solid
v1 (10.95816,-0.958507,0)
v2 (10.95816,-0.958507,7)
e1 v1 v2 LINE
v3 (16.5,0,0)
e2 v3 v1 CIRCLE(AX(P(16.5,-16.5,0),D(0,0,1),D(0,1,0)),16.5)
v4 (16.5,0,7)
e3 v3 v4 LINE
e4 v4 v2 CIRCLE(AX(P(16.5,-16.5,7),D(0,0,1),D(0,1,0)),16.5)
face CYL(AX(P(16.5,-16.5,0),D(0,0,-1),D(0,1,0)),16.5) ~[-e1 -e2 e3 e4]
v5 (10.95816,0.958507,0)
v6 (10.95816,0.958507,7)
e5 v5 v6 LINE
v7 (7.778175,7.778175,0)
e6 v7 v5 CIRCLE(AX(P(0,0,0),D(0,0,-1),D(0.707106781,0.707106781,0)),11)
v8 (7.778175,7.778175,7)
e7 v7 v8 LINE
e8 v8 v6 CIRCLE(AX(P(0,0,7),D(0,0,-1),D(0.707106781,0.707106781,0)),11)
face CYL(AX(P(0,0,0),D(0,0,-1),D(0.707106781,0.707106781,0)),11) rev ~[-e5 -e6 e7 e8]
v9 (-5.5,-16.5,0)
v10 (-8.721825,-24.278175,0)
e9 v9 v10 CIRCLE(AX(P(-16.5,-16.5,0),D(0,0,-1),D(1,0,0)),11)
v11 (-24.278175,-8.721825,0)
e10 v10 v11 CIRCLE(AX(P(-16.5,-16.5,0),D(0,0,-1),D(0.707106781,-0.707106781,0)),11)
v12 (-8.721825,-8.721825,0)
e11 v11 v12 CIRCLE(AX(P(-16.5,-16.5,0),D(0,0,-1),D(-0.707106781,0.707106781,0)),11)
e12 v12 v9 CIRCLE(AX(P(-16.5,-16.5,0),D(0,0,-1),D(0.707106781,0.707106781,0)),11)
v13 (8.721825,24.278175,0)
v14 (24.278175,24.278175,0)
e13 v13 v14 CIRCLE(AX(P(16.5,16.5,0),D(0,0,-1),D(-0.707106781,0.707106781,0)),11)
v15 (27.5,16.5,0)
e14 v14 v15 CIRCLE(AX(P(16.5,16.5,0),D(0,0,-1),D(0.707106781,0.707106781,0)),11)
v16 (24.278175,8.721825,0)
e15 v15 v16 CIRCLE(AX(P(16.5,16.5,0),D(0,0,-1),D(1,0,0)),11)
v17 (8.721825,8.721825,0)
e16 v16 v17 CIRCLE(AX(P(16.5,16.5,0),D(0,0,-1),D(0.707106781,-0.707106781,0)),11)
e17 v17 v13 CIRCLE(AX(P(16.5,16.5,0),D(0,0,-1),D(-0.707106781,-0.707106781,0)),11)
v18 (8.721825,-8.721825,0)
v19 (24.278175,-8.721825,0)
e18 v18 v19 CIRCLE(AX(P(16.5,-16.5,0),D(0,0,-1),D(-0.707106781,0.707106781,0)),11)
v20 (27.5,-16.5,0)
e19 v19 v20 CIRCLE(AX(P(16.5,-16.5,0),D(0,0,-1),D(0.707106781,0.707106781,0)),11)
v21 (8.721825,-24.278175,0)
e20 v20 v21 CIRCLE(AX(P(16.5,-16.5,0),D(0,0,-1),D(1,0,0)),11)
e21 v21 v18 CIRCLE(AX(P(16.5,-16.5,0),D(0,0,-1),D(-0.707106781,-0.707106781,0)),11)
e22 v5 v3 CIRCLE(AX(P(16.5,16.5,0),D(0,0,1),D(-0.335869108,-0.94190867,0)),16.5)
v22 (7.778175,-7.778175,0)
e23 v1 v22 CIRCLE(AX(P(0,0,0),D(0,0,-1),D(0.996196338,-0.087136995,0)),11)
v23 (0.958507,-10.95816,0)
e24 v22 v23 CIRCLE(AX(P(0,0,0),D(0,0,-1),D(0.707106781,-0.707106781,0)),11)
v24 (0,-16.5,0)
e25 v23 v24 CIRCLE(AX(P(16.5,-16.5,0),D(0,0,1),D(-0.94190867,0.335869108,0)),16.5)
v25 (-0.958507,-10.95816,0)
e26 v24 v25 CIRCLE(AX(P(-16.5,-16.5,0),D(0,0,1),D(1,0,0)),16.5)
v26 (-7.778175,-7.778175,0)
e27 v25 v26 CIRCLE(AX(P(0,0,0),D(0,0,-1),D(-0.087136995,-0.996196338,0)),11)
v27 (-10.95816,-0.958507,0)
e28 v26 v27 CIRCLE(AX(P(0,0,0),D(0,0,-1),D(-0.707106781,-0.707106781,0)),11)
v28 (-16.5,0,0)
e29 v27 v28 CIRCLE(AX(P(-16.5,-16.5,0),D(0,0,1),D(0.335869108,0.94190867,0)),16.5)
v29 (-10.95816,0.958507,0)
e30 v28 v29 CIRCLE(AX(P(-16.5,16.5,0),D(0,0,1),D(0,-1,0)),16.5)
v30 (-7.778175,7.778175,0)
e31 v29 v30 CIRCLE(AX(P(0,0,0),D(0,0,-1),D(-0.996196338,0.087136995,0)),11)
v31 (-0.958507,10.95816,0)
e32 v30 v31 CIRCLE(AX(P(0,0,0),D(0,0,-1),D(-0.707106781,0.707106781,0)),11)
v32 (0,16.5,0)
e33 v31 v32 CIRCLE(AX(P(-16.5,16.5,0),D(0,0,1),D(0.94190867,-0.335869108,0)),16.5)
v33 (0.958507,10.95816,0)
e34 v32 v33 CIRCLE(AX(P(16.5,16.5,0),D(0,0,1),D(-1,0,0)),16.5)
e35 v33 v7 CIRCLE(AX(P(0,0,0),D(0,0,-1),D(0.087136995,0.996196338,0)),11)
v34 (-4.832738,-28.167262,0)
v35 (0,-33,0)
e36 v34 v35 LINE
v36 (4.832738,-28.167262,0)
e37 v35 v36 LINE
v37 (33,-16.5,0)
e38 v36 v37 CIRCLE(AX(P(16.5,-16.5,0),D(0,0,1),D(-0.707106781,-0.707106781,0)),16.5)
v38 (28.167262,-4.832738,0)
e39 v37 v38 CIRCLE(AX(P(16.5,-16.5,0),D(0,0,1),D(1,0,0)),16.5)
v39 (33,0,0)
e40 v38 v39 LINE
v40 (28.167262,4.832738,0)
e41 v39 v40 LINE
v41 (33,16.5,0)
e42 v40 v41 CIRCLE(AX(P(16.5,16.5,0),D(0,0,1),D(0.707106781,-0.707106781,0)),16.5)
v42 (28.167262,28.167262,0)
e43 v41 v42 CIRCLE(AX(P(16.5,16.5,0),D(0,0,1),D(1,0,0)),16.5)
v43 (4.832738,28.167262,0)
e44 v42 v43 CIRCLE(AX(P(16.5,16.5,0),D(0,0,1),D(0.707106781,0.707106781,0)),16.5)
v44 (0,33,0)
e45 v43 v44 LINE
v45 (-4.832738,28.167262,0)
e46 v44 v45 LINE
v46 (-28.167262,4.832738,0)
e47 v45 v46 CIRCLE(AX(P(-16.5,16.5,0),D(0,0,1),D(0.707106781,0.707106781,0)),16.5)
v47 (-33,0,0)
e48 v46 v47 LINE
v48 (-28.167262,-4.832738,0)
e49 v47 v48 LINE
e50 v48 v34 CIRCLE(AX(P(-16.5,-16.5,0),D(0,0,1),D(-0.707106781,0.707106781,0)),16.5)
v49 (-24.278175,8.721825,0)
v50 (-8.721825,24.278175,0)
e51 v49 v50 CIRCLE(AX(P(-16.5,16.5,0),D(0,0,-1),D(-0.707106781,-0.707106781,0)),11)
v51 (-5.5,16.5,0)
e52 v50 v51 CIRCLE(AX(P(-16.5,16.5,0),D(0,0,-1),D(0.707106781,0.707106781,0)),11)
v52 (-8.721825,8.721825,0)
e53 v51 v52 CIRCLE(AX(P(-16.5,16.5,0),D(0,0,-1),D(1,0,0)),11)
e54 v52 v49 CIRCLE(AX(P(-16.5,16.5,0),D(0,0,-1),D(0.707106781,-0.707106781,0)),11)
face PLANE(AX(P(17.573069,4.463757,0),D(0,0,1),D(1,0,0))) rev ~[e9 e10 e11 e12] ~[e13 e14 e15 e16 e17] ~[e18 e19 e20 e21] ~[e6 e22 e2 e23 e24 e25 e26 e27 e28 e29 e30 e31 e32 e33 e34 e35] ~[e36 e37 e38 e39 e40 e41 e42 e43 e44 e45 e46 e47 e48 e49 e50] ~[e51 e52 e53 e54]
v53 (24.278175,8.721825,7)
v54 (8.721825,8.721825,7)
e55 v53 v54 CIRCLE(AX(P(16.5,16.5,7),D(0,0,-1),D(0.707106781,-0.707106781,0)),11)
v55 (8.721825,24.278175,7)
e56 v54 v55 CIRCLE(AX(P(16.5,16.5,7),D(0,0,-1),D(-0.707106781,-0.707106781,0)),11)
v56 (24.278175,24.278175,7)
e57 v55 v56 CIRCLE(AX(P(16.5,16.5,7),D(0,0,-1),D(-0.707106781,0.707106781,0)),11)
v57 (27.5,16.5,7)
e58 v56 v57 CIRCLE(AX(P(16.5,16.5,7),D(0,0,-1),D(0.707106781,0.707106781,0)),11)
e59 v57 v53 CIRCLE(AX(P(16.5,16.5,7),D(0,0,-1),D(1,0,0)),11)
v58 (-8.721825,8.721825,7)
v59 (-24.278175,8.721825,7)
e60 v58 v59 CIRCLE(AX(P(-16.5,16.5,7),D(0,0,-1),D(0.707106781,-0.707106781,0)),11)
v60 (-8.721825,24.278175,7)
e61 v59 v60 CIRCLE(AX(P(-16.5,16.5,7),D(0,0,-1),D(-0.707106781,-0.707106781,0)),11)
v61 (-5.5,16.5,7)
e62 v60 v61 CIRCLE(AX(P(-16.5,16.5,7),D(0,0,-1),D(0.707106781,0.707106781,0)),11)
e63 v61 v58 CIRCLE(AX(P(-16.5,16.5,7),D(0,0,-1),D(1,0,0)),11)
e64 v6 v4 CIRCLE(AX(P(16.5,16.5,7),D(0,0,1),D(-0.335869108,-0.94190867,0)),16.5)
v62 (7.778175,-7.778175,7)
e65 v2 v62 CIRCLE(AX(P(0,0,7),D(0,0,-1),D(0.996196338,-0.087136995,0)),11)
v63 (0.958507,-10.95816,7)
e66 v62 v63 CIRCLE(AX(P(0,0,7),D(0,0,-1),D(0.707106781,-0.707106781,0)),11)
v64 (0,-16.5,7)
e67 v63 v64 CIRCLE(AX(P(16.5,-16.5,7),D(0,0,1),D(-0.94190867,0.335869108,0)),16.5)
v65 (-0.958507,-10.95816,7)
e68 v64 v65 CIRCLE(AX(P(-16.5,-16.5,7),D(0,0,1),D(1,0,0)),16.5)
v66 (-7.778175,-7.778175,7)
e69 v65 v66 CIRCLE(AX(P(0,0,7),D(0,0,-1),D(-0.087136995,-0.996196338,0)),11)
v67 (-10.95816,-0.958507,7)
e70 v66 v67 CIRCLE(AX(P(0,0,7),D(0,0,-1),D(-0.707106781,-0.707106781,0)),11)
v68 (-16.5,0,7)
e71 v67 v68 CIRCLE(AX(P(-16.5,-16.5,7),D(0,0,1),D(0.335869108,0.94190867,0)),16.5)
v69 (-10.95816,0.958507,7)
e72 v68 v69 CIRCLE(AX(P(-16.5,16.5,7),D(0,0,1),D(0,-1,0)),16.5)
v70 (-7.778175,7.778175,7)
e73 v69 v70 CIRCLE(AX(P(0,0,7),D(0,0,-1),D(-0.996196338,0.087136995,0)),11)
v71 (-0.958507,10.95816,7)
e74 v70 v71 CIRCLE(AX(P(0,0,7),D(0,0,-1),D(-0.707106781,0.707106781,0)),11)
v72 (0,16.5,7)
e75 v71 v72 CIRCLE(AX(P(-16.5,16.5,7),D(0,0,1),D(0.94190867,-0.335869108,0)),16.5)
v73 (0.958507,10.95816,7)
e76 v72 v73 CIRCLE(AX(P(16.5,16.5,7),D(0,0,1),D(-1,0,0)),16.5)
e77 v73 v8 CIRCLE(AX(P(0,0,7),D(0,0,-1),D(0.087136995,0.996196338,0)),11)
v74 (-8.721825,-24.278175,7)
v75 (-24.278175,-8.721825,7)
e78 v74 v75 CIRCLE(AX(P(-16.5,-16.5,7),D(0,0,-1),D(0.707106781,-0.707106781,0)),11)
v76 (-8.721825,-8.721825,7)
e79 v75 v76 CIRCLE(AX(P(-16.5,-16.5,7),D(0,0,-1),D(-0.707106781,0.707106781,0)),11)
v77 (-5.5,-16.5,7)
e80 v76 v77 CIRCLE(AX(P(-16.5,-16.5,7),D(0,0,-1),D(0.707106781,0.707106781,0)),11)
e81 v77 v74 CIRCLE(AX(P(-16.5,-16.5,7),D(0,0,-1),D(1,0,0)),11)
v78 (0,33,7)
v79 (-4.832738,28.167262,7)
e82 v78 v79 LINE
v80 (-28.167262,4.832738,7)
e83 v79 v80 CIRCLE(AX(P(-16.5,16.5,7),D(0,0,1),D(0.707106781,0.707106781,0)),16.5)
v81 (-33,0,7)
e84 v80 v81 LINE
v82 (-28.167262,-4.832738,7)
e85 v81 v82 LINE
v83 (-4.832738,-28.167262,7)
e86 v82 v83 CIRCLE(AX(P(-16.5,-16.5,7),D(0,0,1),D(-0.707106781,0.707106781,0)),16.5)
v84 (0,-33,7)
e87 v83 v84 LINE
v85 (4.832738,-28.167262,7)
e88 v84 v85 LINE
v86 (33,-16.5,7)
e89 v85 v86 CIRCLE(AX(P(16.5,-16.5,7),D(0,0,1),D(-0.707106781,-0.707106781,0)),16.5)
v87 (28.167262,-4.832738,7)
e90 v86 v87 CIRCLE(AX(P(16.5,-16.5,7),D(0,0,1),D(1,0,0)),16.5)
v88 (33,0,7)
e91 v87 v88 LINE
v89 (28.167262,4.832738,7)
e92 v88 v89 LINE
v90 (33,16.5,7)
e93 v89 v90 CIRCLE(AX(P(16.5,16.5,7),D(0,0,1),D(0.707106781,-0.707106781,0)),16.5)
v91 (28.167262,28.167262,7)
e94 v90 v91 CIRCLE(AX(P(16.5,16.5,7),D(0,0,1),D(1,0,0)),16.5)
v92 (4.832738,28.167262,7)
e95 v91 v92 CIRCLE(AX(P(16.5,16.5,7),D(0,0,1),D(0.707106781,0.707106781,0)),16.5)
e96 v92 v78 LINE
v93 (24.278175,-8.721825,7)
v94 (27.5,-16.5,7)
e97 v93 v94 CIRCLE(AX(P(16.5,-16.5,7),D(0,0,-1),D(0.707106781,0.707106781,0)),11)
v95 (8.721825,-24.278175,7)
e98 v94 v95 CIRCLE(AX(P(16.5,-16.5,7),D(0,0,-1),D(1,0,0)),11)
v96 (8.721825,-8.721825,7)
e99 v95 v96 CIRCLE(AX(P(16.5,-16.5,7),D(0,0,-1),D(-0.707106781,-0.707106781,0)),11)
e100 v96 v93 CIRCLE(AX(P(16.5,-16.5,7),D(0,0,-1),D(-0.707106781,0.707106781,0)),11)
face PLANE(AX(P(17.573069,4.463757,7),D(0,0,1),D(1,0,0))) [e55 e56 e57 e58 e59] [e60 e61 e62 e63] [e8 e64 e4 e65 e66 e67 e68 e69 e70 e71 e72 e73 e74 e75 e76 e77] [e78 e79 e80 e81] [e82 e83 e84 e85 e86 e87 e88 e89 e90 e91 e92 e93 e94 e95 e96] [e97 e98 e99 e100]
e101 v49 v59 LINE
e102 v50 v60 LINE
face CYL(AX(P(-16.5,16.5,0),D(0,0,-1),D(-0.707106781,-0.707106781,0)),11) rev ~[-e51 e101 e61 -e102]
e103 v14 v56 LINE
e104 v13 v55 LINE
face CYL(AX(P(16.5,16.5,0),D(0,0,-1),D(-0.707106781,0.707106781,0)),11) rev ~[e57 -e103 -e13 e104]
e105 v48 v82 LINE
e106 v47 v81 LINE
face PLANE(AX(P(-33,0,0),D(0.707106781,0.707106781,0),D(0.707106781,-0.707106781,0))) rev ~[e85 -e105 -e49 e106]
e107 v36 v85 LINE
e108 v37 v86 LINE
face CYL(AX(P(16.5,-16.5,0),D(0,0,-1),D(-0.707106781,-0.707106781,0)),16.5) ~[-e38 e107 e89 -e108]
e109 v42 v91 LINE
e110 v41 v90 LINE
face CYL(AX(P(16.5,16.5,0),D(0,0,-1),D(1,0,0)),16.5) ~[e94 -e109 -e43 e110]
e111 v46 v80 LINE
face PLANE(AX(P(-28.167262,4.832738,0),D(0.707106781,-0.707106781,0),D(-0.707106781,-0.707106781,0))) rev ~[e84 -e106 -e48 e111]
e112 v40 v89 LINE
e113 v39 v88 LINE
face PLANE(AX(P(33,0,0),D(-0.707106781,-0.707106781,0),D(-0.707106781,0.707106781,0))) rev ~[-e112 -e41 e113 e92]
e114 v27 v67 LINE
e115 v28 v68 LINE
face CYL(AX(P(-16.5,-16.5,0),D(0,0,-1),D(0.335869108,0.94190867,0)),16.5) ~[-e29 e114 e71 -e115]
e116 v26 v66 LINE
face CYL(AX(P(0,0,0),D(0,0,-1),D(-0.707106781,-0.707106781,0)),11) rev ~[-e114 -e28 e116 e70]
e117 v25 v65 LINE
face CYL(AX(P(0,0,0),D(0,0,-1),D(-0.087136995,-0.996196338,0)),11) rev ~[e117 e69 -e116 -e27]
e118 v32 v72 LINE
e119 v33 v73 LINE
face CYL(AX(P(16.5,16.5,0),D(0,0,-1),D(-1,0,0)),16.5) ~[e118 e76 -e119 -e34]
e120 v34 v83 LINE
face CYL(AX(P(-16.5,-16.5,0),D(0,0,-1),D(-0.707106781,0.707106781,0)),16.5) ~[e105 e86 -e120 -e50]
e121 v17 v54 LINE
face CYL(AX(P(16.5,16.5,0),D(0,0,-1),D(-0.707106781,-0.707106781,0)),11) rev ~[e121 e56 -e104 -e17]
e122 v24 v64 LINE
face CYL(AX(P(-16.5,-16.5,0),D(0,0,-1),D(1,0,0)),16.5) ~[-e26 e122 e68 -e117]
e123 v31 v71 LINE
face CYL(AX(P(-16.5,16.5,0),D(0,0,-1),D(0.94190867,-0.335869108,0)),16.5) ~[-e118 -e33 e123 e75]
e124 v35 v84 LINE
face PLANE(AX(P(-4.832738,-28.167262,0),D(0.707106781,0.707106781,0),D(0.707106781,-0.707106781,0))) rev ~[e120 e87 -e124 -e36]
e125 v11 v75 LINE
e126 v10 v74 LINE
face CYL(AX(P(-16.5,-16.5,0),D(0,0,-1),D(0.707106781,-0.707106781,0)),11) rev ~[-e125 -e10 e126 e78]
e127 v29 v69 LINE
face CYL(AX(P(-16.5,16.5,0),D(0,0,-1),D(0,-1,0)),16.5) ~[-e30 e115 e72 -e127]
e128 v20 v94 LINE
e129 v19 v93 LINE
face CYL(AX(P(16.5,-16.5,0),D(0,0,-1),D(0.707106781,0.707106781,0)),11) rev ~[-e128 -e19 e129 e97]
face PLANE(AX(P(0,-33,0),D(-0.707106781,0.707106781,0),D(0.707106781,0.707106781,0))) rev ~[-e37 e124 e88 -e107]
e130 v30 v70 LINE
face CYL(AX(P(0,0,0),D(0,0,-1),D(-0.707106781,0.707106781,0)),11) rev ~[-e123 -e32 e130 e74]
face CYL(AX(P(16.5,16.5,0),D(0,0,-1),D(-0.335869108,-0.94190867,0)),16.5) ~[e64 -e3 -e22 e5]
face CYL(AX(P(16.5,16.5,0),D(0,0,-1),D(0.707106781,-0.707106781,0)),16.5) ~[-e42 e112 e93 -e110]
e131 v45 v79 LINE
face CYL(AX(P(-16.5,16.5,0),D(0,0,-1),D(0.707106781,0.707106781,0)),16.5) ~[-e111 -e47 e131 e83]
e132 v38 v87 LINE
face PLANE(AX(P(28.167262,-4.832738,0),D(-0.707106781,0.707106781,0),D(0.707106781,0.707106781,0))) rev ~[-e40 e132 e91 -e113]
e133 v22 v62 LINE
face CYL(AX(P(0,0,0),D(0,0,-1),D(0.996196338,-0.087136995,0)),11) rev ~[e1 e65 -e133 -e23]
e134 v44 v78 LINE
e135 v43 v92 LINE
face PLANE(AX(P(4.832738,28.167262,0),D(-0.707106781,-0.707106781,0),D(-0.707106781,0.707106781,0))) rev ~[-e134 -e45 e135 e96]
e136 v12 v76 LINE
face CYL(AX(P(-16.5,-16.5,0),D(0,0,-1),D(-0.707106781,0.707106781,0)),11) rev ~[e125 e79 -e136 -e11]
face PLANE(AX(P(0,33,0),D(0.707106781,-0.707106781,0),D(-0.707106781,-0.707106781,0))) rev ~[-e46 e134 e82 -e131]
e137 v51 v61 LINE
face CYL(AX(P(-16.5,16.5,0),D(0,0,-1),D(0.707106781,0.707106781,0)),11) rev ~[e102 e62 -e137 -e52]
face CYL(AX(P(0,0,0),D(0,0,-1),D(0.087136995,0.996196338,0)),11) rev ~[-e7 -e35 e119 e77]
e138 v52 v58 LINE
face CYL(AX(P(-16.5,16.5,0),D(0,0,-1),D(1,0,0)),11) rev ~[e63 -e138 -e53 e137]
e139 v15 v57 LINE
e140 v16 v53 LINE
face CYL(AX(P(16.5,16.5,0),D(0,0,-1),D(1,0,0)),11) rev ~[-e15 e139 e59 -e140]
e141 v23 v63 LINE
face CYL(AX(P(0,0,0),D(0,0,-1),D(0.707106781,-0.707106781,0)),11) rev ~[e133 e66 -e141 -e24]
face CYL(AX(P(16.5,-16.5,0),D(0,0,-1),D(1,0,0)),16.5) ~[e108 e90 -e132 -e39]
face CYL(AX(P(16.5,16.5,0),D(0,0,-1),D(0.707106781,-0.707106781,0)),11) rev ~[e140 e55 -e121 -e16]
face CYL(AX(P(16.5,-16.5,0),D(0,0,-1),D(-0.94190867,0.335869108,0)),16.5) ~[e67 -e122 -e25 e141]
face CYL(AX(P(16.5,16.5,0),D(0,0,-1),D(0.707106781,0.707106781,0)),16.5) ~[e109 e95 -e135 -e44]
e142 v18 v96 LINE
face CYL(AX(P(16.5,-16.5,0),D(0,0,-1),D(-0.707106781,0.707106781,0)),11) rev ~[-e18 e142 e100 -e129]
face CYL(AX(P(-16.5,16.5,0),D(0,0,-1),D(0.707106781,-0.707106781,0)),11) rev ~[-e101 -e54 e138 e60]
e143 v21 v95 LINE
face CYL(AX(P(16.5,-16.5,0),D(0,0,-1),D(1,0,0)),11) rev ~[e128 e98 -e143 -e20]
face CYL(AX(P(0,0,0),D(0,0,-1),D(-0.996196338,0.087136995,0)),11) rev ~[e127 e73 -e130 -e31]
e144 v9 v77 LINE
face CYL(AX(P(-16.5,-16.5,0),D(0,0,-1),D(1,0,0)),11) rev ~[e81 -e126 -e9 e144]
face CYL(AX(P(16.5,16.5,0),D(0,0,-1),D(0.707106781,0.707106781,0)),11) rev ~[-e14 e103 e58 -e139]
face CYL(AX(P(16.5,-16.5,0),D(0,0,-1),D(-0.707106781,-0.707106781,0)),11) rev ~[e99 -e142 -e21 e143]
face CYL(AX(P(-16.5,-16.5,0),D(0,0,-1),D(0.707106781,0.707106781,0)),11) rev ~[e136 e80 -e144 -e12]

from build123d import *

# Parameters (mm, degrees)
F1_DEPTH = 7


with BuildPart() as f1:
    # F0 (on Top) → F1 (new body)
    with BuildSketch(Plane.XY):
        with BuildLine():
            ThreePointArc((7.7781745931, 7.7781745931), (9.9694294001, 4.6487070714), (10.9581597192, 0.9585069475))
            ThreePointArc((10.9581597192, 0.9585069475), (13.6879398448, 0.2413925048), (16.5, 0))
            ThreePointArc((16.5, 0), (22.814276634, 1.2559877136), (28.1672618896, 4.8327381104))
            Line((28.1672618896, 4.8327381104), (24.2781745931, 8.7218254069))
            ThreePointArc((24.2781745931, 8.7218254069), (16.5, 5.5), (8.7218254069, 8.7218254069))
            Line((8.7218254069, 8.7218254069), (7.7781745931, 7.7781745931))
        make_face()
        with BuildLine():
            ThreePointArc((16.5, 0), (13.6879398448, -0.2413925048), (10.9581597192, -0.9585069475))
            ThreePointArc((10.9581597192, -0.9585069475), (9.9694294001, -4.6487070714), (7.7781745931, -7.7781745931))
            Line((7.7781745931, -7.7781745931), (8.7218254069, -8.7218254069))
            ThreePointArc((8.7218254069, -8.7218254069), (16.5, -5.5), (24.2781745931, -8.7218254069))
            Line((24.2781745931, -8.7218254069), (28.1672618896, -4.8327381104))
            ThreePointArc((28.1672618896, -4.8327381104), (22.814276634, -1.2559877136), (16.5, 0))
        make_face()
        with BuildLine():
            ThreePointArc((28.1672618896, 4.8327381104), (22.814276634, 1.2559877136), (16.5, 0))
            Line((16.5, 0), (33, 0))
            Line((33, 0), (28.1672618896, 4.8327381104))
        make_face()
        with BuildLine():
            Line((33, 0), (16.5, 0))
            ThreePointArc((16.5, 0), (22.814276634, -1.2559877136), (28.1672618896, -4.8327381104))
            Line((28.1672618896, -4.8327381104), (33, 0))
        make_face()
        with BuildLine():
            ThreePointArc((0.9585069475, 10.9581597192), (4.6487070714, 9.9694294001), (7.7781745931, 7.7781745931))
            Line((7.7781745931, 7.7781745931), (8.7218254069, 8.7218254069))
            ThreePointArc((8.7218254069, 8.7218254069), (5.5, 16.5), (8.7218254069, 24.2781745931))
            Line((8.7218254069, 24.2781745931), (4.8327381104, 28.1672618896))
            ThreePointArc((4.8327381104, 28.1672618896), (1.2559877136, 22.814276634), (0, 16.5))
            ThreePointArc((0, 16.5), (0.2413925048, 13.6879398448), (0.9585069475, 10.9581597192))
        make_face()
        with BuildLine():
            Line((8.7218254069, -8.7218254069), (7.7781745931, -7.7781745931))
            ThreePointArc((7.7781745931, -7.7781745931), (4.6487070714, -9.9694294001), (0.9585069475, -10.9581597192))
            ThreePointArc((0.9585069475, -10.9581597192), (0.2413925048, -13.6879398448), (0, -16.5))
            ThreePointArc((0, -16.5), (1.2559877136, -22.814276634), (4.8327381104, -28.1672618896))
            Line((4.8327381104, -28.1672618896), (8.7218254069, -24.2781745931))
            ThreePointArc((8.7218254069, -24.2781745931), (5.5, -16.5), (8.7218254069, -8.7218254069))
        make_face()
        with BuildLine():
            Line((24.2781745931, 8.7218254069), (28.1672618896, 4.8327381104))
            ThreePointArc((28.1672618896, 4.8327381104), (31.7440122864, 10.185723366), (33, 16.5))
            ThreePointArc((33, 16.5), (31.7440122864, 22.814276634), (28.1672618896, 28.1672618896))
            Line((28.1672618896, 28.1672618896), (24.2781745931, 24.2781745931))
            ThreePointArc((24.2781745931, 24.2781745931), (26.6626748576, 20.709517756), (27.5, 16.5))
            ThreePointArc((27.5, 16.5), (26.6626748576, 12.290482244), (24.2781745931, 8.7218254069))
        make_face()
        with BuildLine():
            ThreePointArc((33, -16.5), (31.7440122864, -10.185723366), (28.1672618896, -4.8327381104))
            Line((28.1672618896, -4.8327381104), (24.2781745931, -8.7218254069))
            ThreePointArc((24.2781745931, -8.7218254069), (26.6626748576, -12.290482244), (27.5, -16.5))
            ThreePointArc((27.5, -16.5), (20.709517756, -26.6626748576), (8.7218254069, -24.2781745931))
            Line((8.7218254069, -24.2781745931), (4.8327381104, -28.1672618896))
            ThreePointArc((4.8327381104, -28.1672618896), (22.814276634, -31.7440122864), (33, -16.5))
        make_face()
        with BuildLine():
            Line((-8.7218254069, -8.7218254069), (-7.7781745931, -7.7781745931))
            ThreePointArc((-7.7781745931, -7.7781745931), (-9.9694294001, -4.6487070714), (-10.9581597192, -0.9585069475))
            ThreePointArc((-10.9581597192, -0.9585069475), (-13.6879398448, -0.2413925048), (-16.5, 0))
            ThreePointArc((-16.5, 0), (-22.814276634, -1.2559877136), (-28.1672618896, -4.8327381104))
            Line((-28.1672618896, -4.8327381104), (-24.2781745931, -8.7218254069))
            ThreePointArc((-24.2781745931, -8.7218254069), (-16.5, -5.5), (-8.7218254069, -8.7218254069))
        make_face()
        with BuildLine():
            ThreePointArc((-0.9585069475, -10.9581597192), (-4.6487070714, -9.9694294001), (-7.7781745931, -7.7781745931))
            Line((-7.7781745931, -7.7781745931), (-8.7218254069, -8.7218254069))
            ThreePointArc((-8.7218254069, -8.7218254069), (-6.3373251424, -12.290482244), (-5.5, -16.5))
            ThreePointArc((-5.5, -16.5), (-6.3373251424, -20.709517756), (-8.7218254069, -24.2781745931))
            Line((-8.7218254069, -24.2781745931), (-4.8327381104, -28.1672618896))
            ThreePointArc((-4.8327381104, -28.1672618896), (-1.2559877136, -22.814276634), (0, -16.5))
            ThreePointArc((0, -16.5), (-0.2413925048, -13.6879398448), (-0.9585069475, -10.9581597192))
        make_face()
        with BuildLine():
            ThreePointArc((-16.5, 0), (-13.6879398448, 0.2413925048), (-10.9581597192, 0.9585069475))
            ThreePointArc((-10.9581597192, 0.9585069475), (-9.9694294001, 4.6487070714), (-7.7781745931, 7.7781745931))
            Line((-7.7781745931, 7.7781745931), (-8.7218254069, 8.7218254069))
            ThreePointArc((-8.7218254069, 8.7218254069), (-16.5, 5.5), (-24.2781745931, 8.7218254069))
            Line((-24.2781745931, 8.7218254069), (-28.1672618896, 4.8327381104))
            ThreePointArc((-28.1672618896, 4.8327381104), (-22.814276634, 1.2559877136), (-16.5, 0))
        make_face()
        with BuildLine():
            ThreePointArc((-28.1672618896, -4.8327381104), (-22.814276634, -1.2559877136), (-16.5, 0))
            Line((-16.5, 0), (-33, 0))
            Line((-33, 0), (-28.1672618896, -4.8327381104))
        make_face()
        with BuildLine():
            Line((-33, 0), (-16.5, 0))
            ThreePointArc((-16.5, 0), (-22.814276634, 1.2559877136), (-28.1672618896, 4.8327381104))
            Line((-28.1672618896, 4.8327381104), (-33, 0))
        make_face()
        with BuildLine():
            ThreePointArc((-7.7781745931, 7.7781745931), (-4.6487070714, 9.9694294001), (-0.9585069475, 10.9581597192))
            ThreePointArc((-0.9585069475, 10.9581597192), (-0.2413925048, 13.6879398448), (0, 16.5))
            ThreePointArc((0, 16.5), (-1.2559877136, 22.814276634), (-4.8327381104, 28.1672618896))
            Line((-4.8327381104, 28.1672618896), (-8.7218254069, 24.2781745931))
            ThreePointArc((-8.7218254069, 24.2781745931), (-6.3373251424, 20.709517756), (-5.5, 16.5))
            ThreePointArc((-5.5, 16.5), (-6.3373251424, 12.290482244), (-8.7218254069, 8.7218254069))
            Line((-8.7218254069, 8.7218254069), (-7.7781745931, 7.7781745931))
        make_face()
        with BuildLine():
            ThreePointArc((-4.8327381104, 28.1672618896), (-1.2559877136, 22.814276634), (0, 16.5))
            ThreePointArc((0, 16.5), (1.2559877136, 22.814276634), (4.8327381104, 28.1672618896))
            Line((4.8327381104, 28.1672618896), (0, 33))
            Line((0, 33), (-4.8327381104, 28.1672618896))
        make_face()
        with BuildLine():
            Line((4.8327381104, 28.1672618896), (8.7218254069, 24.2781745931))
            ThreePointArc((8.7218254069, 24.2781745931), (16.5, 27.5), (24.2781745931, 24.2781745931))
            Line((24.2781745931, 24.2781745931), (28.1672618896, 28.1672618896))
            ThreePointArc((28.1672618896, 28.1672618896), (16.5, 33), (4.8327381104, 28.1672618896))
        make_face()
        with BuildLine():
            ThreePointArc((4.8327381104, -28.1672618896), (1.2559877136, -22.814276634), (0, -16.5))
            ThreePointArc((0, -16.5), (-1.2559877136, -22.814276634), (-4.8327381104, -28.1672618896))
            Line((-4.8327381104, -28.1672618896), (0, -33))
            Line((0, -33), (4.8327381104, -28.1672618896))
        make_face()
        with BuildLine():
            ThreePointArc((-4.8327381104, 28.1672618896), (-28.1672618896, 28.1672618896), (-28.1672618896, 4.8327381104))
            Line((-28.1672618896, 4.8327381104), (-24.2781745931, 8.7218254069))
            ThreePointArc((-24.2781745931, 8.7218254069), (-24.2781745931, 24.2781745931), (-8.7218254069, 24.2781745931))
            Line((-8.7218254069, 24.2781745931), (-4.8327381104, 28.1672618896))
        make_face()
        with BuildLine():
            Line((-24.2781745931, -8.7218254069), (-28.1672618896, -4.8327381104))
            ThreePointArc((-28.1672618896, -4.8327381104), (-28.1672618896, -28.1672618896), (-4.8327381104, -28.1672618896))
            Line((-4.8327381104, -28.1672618896), (-8.7218254069, -24.2781745931))
            ThreePointArc((-8.7218254069, -24.2781745931), (-24.2781745931, -24.2781745931), (-24.2781745931, -8.7218254069))
        make_face()
    extrude(amount=F1_DEPTH)


solid = f1.part
